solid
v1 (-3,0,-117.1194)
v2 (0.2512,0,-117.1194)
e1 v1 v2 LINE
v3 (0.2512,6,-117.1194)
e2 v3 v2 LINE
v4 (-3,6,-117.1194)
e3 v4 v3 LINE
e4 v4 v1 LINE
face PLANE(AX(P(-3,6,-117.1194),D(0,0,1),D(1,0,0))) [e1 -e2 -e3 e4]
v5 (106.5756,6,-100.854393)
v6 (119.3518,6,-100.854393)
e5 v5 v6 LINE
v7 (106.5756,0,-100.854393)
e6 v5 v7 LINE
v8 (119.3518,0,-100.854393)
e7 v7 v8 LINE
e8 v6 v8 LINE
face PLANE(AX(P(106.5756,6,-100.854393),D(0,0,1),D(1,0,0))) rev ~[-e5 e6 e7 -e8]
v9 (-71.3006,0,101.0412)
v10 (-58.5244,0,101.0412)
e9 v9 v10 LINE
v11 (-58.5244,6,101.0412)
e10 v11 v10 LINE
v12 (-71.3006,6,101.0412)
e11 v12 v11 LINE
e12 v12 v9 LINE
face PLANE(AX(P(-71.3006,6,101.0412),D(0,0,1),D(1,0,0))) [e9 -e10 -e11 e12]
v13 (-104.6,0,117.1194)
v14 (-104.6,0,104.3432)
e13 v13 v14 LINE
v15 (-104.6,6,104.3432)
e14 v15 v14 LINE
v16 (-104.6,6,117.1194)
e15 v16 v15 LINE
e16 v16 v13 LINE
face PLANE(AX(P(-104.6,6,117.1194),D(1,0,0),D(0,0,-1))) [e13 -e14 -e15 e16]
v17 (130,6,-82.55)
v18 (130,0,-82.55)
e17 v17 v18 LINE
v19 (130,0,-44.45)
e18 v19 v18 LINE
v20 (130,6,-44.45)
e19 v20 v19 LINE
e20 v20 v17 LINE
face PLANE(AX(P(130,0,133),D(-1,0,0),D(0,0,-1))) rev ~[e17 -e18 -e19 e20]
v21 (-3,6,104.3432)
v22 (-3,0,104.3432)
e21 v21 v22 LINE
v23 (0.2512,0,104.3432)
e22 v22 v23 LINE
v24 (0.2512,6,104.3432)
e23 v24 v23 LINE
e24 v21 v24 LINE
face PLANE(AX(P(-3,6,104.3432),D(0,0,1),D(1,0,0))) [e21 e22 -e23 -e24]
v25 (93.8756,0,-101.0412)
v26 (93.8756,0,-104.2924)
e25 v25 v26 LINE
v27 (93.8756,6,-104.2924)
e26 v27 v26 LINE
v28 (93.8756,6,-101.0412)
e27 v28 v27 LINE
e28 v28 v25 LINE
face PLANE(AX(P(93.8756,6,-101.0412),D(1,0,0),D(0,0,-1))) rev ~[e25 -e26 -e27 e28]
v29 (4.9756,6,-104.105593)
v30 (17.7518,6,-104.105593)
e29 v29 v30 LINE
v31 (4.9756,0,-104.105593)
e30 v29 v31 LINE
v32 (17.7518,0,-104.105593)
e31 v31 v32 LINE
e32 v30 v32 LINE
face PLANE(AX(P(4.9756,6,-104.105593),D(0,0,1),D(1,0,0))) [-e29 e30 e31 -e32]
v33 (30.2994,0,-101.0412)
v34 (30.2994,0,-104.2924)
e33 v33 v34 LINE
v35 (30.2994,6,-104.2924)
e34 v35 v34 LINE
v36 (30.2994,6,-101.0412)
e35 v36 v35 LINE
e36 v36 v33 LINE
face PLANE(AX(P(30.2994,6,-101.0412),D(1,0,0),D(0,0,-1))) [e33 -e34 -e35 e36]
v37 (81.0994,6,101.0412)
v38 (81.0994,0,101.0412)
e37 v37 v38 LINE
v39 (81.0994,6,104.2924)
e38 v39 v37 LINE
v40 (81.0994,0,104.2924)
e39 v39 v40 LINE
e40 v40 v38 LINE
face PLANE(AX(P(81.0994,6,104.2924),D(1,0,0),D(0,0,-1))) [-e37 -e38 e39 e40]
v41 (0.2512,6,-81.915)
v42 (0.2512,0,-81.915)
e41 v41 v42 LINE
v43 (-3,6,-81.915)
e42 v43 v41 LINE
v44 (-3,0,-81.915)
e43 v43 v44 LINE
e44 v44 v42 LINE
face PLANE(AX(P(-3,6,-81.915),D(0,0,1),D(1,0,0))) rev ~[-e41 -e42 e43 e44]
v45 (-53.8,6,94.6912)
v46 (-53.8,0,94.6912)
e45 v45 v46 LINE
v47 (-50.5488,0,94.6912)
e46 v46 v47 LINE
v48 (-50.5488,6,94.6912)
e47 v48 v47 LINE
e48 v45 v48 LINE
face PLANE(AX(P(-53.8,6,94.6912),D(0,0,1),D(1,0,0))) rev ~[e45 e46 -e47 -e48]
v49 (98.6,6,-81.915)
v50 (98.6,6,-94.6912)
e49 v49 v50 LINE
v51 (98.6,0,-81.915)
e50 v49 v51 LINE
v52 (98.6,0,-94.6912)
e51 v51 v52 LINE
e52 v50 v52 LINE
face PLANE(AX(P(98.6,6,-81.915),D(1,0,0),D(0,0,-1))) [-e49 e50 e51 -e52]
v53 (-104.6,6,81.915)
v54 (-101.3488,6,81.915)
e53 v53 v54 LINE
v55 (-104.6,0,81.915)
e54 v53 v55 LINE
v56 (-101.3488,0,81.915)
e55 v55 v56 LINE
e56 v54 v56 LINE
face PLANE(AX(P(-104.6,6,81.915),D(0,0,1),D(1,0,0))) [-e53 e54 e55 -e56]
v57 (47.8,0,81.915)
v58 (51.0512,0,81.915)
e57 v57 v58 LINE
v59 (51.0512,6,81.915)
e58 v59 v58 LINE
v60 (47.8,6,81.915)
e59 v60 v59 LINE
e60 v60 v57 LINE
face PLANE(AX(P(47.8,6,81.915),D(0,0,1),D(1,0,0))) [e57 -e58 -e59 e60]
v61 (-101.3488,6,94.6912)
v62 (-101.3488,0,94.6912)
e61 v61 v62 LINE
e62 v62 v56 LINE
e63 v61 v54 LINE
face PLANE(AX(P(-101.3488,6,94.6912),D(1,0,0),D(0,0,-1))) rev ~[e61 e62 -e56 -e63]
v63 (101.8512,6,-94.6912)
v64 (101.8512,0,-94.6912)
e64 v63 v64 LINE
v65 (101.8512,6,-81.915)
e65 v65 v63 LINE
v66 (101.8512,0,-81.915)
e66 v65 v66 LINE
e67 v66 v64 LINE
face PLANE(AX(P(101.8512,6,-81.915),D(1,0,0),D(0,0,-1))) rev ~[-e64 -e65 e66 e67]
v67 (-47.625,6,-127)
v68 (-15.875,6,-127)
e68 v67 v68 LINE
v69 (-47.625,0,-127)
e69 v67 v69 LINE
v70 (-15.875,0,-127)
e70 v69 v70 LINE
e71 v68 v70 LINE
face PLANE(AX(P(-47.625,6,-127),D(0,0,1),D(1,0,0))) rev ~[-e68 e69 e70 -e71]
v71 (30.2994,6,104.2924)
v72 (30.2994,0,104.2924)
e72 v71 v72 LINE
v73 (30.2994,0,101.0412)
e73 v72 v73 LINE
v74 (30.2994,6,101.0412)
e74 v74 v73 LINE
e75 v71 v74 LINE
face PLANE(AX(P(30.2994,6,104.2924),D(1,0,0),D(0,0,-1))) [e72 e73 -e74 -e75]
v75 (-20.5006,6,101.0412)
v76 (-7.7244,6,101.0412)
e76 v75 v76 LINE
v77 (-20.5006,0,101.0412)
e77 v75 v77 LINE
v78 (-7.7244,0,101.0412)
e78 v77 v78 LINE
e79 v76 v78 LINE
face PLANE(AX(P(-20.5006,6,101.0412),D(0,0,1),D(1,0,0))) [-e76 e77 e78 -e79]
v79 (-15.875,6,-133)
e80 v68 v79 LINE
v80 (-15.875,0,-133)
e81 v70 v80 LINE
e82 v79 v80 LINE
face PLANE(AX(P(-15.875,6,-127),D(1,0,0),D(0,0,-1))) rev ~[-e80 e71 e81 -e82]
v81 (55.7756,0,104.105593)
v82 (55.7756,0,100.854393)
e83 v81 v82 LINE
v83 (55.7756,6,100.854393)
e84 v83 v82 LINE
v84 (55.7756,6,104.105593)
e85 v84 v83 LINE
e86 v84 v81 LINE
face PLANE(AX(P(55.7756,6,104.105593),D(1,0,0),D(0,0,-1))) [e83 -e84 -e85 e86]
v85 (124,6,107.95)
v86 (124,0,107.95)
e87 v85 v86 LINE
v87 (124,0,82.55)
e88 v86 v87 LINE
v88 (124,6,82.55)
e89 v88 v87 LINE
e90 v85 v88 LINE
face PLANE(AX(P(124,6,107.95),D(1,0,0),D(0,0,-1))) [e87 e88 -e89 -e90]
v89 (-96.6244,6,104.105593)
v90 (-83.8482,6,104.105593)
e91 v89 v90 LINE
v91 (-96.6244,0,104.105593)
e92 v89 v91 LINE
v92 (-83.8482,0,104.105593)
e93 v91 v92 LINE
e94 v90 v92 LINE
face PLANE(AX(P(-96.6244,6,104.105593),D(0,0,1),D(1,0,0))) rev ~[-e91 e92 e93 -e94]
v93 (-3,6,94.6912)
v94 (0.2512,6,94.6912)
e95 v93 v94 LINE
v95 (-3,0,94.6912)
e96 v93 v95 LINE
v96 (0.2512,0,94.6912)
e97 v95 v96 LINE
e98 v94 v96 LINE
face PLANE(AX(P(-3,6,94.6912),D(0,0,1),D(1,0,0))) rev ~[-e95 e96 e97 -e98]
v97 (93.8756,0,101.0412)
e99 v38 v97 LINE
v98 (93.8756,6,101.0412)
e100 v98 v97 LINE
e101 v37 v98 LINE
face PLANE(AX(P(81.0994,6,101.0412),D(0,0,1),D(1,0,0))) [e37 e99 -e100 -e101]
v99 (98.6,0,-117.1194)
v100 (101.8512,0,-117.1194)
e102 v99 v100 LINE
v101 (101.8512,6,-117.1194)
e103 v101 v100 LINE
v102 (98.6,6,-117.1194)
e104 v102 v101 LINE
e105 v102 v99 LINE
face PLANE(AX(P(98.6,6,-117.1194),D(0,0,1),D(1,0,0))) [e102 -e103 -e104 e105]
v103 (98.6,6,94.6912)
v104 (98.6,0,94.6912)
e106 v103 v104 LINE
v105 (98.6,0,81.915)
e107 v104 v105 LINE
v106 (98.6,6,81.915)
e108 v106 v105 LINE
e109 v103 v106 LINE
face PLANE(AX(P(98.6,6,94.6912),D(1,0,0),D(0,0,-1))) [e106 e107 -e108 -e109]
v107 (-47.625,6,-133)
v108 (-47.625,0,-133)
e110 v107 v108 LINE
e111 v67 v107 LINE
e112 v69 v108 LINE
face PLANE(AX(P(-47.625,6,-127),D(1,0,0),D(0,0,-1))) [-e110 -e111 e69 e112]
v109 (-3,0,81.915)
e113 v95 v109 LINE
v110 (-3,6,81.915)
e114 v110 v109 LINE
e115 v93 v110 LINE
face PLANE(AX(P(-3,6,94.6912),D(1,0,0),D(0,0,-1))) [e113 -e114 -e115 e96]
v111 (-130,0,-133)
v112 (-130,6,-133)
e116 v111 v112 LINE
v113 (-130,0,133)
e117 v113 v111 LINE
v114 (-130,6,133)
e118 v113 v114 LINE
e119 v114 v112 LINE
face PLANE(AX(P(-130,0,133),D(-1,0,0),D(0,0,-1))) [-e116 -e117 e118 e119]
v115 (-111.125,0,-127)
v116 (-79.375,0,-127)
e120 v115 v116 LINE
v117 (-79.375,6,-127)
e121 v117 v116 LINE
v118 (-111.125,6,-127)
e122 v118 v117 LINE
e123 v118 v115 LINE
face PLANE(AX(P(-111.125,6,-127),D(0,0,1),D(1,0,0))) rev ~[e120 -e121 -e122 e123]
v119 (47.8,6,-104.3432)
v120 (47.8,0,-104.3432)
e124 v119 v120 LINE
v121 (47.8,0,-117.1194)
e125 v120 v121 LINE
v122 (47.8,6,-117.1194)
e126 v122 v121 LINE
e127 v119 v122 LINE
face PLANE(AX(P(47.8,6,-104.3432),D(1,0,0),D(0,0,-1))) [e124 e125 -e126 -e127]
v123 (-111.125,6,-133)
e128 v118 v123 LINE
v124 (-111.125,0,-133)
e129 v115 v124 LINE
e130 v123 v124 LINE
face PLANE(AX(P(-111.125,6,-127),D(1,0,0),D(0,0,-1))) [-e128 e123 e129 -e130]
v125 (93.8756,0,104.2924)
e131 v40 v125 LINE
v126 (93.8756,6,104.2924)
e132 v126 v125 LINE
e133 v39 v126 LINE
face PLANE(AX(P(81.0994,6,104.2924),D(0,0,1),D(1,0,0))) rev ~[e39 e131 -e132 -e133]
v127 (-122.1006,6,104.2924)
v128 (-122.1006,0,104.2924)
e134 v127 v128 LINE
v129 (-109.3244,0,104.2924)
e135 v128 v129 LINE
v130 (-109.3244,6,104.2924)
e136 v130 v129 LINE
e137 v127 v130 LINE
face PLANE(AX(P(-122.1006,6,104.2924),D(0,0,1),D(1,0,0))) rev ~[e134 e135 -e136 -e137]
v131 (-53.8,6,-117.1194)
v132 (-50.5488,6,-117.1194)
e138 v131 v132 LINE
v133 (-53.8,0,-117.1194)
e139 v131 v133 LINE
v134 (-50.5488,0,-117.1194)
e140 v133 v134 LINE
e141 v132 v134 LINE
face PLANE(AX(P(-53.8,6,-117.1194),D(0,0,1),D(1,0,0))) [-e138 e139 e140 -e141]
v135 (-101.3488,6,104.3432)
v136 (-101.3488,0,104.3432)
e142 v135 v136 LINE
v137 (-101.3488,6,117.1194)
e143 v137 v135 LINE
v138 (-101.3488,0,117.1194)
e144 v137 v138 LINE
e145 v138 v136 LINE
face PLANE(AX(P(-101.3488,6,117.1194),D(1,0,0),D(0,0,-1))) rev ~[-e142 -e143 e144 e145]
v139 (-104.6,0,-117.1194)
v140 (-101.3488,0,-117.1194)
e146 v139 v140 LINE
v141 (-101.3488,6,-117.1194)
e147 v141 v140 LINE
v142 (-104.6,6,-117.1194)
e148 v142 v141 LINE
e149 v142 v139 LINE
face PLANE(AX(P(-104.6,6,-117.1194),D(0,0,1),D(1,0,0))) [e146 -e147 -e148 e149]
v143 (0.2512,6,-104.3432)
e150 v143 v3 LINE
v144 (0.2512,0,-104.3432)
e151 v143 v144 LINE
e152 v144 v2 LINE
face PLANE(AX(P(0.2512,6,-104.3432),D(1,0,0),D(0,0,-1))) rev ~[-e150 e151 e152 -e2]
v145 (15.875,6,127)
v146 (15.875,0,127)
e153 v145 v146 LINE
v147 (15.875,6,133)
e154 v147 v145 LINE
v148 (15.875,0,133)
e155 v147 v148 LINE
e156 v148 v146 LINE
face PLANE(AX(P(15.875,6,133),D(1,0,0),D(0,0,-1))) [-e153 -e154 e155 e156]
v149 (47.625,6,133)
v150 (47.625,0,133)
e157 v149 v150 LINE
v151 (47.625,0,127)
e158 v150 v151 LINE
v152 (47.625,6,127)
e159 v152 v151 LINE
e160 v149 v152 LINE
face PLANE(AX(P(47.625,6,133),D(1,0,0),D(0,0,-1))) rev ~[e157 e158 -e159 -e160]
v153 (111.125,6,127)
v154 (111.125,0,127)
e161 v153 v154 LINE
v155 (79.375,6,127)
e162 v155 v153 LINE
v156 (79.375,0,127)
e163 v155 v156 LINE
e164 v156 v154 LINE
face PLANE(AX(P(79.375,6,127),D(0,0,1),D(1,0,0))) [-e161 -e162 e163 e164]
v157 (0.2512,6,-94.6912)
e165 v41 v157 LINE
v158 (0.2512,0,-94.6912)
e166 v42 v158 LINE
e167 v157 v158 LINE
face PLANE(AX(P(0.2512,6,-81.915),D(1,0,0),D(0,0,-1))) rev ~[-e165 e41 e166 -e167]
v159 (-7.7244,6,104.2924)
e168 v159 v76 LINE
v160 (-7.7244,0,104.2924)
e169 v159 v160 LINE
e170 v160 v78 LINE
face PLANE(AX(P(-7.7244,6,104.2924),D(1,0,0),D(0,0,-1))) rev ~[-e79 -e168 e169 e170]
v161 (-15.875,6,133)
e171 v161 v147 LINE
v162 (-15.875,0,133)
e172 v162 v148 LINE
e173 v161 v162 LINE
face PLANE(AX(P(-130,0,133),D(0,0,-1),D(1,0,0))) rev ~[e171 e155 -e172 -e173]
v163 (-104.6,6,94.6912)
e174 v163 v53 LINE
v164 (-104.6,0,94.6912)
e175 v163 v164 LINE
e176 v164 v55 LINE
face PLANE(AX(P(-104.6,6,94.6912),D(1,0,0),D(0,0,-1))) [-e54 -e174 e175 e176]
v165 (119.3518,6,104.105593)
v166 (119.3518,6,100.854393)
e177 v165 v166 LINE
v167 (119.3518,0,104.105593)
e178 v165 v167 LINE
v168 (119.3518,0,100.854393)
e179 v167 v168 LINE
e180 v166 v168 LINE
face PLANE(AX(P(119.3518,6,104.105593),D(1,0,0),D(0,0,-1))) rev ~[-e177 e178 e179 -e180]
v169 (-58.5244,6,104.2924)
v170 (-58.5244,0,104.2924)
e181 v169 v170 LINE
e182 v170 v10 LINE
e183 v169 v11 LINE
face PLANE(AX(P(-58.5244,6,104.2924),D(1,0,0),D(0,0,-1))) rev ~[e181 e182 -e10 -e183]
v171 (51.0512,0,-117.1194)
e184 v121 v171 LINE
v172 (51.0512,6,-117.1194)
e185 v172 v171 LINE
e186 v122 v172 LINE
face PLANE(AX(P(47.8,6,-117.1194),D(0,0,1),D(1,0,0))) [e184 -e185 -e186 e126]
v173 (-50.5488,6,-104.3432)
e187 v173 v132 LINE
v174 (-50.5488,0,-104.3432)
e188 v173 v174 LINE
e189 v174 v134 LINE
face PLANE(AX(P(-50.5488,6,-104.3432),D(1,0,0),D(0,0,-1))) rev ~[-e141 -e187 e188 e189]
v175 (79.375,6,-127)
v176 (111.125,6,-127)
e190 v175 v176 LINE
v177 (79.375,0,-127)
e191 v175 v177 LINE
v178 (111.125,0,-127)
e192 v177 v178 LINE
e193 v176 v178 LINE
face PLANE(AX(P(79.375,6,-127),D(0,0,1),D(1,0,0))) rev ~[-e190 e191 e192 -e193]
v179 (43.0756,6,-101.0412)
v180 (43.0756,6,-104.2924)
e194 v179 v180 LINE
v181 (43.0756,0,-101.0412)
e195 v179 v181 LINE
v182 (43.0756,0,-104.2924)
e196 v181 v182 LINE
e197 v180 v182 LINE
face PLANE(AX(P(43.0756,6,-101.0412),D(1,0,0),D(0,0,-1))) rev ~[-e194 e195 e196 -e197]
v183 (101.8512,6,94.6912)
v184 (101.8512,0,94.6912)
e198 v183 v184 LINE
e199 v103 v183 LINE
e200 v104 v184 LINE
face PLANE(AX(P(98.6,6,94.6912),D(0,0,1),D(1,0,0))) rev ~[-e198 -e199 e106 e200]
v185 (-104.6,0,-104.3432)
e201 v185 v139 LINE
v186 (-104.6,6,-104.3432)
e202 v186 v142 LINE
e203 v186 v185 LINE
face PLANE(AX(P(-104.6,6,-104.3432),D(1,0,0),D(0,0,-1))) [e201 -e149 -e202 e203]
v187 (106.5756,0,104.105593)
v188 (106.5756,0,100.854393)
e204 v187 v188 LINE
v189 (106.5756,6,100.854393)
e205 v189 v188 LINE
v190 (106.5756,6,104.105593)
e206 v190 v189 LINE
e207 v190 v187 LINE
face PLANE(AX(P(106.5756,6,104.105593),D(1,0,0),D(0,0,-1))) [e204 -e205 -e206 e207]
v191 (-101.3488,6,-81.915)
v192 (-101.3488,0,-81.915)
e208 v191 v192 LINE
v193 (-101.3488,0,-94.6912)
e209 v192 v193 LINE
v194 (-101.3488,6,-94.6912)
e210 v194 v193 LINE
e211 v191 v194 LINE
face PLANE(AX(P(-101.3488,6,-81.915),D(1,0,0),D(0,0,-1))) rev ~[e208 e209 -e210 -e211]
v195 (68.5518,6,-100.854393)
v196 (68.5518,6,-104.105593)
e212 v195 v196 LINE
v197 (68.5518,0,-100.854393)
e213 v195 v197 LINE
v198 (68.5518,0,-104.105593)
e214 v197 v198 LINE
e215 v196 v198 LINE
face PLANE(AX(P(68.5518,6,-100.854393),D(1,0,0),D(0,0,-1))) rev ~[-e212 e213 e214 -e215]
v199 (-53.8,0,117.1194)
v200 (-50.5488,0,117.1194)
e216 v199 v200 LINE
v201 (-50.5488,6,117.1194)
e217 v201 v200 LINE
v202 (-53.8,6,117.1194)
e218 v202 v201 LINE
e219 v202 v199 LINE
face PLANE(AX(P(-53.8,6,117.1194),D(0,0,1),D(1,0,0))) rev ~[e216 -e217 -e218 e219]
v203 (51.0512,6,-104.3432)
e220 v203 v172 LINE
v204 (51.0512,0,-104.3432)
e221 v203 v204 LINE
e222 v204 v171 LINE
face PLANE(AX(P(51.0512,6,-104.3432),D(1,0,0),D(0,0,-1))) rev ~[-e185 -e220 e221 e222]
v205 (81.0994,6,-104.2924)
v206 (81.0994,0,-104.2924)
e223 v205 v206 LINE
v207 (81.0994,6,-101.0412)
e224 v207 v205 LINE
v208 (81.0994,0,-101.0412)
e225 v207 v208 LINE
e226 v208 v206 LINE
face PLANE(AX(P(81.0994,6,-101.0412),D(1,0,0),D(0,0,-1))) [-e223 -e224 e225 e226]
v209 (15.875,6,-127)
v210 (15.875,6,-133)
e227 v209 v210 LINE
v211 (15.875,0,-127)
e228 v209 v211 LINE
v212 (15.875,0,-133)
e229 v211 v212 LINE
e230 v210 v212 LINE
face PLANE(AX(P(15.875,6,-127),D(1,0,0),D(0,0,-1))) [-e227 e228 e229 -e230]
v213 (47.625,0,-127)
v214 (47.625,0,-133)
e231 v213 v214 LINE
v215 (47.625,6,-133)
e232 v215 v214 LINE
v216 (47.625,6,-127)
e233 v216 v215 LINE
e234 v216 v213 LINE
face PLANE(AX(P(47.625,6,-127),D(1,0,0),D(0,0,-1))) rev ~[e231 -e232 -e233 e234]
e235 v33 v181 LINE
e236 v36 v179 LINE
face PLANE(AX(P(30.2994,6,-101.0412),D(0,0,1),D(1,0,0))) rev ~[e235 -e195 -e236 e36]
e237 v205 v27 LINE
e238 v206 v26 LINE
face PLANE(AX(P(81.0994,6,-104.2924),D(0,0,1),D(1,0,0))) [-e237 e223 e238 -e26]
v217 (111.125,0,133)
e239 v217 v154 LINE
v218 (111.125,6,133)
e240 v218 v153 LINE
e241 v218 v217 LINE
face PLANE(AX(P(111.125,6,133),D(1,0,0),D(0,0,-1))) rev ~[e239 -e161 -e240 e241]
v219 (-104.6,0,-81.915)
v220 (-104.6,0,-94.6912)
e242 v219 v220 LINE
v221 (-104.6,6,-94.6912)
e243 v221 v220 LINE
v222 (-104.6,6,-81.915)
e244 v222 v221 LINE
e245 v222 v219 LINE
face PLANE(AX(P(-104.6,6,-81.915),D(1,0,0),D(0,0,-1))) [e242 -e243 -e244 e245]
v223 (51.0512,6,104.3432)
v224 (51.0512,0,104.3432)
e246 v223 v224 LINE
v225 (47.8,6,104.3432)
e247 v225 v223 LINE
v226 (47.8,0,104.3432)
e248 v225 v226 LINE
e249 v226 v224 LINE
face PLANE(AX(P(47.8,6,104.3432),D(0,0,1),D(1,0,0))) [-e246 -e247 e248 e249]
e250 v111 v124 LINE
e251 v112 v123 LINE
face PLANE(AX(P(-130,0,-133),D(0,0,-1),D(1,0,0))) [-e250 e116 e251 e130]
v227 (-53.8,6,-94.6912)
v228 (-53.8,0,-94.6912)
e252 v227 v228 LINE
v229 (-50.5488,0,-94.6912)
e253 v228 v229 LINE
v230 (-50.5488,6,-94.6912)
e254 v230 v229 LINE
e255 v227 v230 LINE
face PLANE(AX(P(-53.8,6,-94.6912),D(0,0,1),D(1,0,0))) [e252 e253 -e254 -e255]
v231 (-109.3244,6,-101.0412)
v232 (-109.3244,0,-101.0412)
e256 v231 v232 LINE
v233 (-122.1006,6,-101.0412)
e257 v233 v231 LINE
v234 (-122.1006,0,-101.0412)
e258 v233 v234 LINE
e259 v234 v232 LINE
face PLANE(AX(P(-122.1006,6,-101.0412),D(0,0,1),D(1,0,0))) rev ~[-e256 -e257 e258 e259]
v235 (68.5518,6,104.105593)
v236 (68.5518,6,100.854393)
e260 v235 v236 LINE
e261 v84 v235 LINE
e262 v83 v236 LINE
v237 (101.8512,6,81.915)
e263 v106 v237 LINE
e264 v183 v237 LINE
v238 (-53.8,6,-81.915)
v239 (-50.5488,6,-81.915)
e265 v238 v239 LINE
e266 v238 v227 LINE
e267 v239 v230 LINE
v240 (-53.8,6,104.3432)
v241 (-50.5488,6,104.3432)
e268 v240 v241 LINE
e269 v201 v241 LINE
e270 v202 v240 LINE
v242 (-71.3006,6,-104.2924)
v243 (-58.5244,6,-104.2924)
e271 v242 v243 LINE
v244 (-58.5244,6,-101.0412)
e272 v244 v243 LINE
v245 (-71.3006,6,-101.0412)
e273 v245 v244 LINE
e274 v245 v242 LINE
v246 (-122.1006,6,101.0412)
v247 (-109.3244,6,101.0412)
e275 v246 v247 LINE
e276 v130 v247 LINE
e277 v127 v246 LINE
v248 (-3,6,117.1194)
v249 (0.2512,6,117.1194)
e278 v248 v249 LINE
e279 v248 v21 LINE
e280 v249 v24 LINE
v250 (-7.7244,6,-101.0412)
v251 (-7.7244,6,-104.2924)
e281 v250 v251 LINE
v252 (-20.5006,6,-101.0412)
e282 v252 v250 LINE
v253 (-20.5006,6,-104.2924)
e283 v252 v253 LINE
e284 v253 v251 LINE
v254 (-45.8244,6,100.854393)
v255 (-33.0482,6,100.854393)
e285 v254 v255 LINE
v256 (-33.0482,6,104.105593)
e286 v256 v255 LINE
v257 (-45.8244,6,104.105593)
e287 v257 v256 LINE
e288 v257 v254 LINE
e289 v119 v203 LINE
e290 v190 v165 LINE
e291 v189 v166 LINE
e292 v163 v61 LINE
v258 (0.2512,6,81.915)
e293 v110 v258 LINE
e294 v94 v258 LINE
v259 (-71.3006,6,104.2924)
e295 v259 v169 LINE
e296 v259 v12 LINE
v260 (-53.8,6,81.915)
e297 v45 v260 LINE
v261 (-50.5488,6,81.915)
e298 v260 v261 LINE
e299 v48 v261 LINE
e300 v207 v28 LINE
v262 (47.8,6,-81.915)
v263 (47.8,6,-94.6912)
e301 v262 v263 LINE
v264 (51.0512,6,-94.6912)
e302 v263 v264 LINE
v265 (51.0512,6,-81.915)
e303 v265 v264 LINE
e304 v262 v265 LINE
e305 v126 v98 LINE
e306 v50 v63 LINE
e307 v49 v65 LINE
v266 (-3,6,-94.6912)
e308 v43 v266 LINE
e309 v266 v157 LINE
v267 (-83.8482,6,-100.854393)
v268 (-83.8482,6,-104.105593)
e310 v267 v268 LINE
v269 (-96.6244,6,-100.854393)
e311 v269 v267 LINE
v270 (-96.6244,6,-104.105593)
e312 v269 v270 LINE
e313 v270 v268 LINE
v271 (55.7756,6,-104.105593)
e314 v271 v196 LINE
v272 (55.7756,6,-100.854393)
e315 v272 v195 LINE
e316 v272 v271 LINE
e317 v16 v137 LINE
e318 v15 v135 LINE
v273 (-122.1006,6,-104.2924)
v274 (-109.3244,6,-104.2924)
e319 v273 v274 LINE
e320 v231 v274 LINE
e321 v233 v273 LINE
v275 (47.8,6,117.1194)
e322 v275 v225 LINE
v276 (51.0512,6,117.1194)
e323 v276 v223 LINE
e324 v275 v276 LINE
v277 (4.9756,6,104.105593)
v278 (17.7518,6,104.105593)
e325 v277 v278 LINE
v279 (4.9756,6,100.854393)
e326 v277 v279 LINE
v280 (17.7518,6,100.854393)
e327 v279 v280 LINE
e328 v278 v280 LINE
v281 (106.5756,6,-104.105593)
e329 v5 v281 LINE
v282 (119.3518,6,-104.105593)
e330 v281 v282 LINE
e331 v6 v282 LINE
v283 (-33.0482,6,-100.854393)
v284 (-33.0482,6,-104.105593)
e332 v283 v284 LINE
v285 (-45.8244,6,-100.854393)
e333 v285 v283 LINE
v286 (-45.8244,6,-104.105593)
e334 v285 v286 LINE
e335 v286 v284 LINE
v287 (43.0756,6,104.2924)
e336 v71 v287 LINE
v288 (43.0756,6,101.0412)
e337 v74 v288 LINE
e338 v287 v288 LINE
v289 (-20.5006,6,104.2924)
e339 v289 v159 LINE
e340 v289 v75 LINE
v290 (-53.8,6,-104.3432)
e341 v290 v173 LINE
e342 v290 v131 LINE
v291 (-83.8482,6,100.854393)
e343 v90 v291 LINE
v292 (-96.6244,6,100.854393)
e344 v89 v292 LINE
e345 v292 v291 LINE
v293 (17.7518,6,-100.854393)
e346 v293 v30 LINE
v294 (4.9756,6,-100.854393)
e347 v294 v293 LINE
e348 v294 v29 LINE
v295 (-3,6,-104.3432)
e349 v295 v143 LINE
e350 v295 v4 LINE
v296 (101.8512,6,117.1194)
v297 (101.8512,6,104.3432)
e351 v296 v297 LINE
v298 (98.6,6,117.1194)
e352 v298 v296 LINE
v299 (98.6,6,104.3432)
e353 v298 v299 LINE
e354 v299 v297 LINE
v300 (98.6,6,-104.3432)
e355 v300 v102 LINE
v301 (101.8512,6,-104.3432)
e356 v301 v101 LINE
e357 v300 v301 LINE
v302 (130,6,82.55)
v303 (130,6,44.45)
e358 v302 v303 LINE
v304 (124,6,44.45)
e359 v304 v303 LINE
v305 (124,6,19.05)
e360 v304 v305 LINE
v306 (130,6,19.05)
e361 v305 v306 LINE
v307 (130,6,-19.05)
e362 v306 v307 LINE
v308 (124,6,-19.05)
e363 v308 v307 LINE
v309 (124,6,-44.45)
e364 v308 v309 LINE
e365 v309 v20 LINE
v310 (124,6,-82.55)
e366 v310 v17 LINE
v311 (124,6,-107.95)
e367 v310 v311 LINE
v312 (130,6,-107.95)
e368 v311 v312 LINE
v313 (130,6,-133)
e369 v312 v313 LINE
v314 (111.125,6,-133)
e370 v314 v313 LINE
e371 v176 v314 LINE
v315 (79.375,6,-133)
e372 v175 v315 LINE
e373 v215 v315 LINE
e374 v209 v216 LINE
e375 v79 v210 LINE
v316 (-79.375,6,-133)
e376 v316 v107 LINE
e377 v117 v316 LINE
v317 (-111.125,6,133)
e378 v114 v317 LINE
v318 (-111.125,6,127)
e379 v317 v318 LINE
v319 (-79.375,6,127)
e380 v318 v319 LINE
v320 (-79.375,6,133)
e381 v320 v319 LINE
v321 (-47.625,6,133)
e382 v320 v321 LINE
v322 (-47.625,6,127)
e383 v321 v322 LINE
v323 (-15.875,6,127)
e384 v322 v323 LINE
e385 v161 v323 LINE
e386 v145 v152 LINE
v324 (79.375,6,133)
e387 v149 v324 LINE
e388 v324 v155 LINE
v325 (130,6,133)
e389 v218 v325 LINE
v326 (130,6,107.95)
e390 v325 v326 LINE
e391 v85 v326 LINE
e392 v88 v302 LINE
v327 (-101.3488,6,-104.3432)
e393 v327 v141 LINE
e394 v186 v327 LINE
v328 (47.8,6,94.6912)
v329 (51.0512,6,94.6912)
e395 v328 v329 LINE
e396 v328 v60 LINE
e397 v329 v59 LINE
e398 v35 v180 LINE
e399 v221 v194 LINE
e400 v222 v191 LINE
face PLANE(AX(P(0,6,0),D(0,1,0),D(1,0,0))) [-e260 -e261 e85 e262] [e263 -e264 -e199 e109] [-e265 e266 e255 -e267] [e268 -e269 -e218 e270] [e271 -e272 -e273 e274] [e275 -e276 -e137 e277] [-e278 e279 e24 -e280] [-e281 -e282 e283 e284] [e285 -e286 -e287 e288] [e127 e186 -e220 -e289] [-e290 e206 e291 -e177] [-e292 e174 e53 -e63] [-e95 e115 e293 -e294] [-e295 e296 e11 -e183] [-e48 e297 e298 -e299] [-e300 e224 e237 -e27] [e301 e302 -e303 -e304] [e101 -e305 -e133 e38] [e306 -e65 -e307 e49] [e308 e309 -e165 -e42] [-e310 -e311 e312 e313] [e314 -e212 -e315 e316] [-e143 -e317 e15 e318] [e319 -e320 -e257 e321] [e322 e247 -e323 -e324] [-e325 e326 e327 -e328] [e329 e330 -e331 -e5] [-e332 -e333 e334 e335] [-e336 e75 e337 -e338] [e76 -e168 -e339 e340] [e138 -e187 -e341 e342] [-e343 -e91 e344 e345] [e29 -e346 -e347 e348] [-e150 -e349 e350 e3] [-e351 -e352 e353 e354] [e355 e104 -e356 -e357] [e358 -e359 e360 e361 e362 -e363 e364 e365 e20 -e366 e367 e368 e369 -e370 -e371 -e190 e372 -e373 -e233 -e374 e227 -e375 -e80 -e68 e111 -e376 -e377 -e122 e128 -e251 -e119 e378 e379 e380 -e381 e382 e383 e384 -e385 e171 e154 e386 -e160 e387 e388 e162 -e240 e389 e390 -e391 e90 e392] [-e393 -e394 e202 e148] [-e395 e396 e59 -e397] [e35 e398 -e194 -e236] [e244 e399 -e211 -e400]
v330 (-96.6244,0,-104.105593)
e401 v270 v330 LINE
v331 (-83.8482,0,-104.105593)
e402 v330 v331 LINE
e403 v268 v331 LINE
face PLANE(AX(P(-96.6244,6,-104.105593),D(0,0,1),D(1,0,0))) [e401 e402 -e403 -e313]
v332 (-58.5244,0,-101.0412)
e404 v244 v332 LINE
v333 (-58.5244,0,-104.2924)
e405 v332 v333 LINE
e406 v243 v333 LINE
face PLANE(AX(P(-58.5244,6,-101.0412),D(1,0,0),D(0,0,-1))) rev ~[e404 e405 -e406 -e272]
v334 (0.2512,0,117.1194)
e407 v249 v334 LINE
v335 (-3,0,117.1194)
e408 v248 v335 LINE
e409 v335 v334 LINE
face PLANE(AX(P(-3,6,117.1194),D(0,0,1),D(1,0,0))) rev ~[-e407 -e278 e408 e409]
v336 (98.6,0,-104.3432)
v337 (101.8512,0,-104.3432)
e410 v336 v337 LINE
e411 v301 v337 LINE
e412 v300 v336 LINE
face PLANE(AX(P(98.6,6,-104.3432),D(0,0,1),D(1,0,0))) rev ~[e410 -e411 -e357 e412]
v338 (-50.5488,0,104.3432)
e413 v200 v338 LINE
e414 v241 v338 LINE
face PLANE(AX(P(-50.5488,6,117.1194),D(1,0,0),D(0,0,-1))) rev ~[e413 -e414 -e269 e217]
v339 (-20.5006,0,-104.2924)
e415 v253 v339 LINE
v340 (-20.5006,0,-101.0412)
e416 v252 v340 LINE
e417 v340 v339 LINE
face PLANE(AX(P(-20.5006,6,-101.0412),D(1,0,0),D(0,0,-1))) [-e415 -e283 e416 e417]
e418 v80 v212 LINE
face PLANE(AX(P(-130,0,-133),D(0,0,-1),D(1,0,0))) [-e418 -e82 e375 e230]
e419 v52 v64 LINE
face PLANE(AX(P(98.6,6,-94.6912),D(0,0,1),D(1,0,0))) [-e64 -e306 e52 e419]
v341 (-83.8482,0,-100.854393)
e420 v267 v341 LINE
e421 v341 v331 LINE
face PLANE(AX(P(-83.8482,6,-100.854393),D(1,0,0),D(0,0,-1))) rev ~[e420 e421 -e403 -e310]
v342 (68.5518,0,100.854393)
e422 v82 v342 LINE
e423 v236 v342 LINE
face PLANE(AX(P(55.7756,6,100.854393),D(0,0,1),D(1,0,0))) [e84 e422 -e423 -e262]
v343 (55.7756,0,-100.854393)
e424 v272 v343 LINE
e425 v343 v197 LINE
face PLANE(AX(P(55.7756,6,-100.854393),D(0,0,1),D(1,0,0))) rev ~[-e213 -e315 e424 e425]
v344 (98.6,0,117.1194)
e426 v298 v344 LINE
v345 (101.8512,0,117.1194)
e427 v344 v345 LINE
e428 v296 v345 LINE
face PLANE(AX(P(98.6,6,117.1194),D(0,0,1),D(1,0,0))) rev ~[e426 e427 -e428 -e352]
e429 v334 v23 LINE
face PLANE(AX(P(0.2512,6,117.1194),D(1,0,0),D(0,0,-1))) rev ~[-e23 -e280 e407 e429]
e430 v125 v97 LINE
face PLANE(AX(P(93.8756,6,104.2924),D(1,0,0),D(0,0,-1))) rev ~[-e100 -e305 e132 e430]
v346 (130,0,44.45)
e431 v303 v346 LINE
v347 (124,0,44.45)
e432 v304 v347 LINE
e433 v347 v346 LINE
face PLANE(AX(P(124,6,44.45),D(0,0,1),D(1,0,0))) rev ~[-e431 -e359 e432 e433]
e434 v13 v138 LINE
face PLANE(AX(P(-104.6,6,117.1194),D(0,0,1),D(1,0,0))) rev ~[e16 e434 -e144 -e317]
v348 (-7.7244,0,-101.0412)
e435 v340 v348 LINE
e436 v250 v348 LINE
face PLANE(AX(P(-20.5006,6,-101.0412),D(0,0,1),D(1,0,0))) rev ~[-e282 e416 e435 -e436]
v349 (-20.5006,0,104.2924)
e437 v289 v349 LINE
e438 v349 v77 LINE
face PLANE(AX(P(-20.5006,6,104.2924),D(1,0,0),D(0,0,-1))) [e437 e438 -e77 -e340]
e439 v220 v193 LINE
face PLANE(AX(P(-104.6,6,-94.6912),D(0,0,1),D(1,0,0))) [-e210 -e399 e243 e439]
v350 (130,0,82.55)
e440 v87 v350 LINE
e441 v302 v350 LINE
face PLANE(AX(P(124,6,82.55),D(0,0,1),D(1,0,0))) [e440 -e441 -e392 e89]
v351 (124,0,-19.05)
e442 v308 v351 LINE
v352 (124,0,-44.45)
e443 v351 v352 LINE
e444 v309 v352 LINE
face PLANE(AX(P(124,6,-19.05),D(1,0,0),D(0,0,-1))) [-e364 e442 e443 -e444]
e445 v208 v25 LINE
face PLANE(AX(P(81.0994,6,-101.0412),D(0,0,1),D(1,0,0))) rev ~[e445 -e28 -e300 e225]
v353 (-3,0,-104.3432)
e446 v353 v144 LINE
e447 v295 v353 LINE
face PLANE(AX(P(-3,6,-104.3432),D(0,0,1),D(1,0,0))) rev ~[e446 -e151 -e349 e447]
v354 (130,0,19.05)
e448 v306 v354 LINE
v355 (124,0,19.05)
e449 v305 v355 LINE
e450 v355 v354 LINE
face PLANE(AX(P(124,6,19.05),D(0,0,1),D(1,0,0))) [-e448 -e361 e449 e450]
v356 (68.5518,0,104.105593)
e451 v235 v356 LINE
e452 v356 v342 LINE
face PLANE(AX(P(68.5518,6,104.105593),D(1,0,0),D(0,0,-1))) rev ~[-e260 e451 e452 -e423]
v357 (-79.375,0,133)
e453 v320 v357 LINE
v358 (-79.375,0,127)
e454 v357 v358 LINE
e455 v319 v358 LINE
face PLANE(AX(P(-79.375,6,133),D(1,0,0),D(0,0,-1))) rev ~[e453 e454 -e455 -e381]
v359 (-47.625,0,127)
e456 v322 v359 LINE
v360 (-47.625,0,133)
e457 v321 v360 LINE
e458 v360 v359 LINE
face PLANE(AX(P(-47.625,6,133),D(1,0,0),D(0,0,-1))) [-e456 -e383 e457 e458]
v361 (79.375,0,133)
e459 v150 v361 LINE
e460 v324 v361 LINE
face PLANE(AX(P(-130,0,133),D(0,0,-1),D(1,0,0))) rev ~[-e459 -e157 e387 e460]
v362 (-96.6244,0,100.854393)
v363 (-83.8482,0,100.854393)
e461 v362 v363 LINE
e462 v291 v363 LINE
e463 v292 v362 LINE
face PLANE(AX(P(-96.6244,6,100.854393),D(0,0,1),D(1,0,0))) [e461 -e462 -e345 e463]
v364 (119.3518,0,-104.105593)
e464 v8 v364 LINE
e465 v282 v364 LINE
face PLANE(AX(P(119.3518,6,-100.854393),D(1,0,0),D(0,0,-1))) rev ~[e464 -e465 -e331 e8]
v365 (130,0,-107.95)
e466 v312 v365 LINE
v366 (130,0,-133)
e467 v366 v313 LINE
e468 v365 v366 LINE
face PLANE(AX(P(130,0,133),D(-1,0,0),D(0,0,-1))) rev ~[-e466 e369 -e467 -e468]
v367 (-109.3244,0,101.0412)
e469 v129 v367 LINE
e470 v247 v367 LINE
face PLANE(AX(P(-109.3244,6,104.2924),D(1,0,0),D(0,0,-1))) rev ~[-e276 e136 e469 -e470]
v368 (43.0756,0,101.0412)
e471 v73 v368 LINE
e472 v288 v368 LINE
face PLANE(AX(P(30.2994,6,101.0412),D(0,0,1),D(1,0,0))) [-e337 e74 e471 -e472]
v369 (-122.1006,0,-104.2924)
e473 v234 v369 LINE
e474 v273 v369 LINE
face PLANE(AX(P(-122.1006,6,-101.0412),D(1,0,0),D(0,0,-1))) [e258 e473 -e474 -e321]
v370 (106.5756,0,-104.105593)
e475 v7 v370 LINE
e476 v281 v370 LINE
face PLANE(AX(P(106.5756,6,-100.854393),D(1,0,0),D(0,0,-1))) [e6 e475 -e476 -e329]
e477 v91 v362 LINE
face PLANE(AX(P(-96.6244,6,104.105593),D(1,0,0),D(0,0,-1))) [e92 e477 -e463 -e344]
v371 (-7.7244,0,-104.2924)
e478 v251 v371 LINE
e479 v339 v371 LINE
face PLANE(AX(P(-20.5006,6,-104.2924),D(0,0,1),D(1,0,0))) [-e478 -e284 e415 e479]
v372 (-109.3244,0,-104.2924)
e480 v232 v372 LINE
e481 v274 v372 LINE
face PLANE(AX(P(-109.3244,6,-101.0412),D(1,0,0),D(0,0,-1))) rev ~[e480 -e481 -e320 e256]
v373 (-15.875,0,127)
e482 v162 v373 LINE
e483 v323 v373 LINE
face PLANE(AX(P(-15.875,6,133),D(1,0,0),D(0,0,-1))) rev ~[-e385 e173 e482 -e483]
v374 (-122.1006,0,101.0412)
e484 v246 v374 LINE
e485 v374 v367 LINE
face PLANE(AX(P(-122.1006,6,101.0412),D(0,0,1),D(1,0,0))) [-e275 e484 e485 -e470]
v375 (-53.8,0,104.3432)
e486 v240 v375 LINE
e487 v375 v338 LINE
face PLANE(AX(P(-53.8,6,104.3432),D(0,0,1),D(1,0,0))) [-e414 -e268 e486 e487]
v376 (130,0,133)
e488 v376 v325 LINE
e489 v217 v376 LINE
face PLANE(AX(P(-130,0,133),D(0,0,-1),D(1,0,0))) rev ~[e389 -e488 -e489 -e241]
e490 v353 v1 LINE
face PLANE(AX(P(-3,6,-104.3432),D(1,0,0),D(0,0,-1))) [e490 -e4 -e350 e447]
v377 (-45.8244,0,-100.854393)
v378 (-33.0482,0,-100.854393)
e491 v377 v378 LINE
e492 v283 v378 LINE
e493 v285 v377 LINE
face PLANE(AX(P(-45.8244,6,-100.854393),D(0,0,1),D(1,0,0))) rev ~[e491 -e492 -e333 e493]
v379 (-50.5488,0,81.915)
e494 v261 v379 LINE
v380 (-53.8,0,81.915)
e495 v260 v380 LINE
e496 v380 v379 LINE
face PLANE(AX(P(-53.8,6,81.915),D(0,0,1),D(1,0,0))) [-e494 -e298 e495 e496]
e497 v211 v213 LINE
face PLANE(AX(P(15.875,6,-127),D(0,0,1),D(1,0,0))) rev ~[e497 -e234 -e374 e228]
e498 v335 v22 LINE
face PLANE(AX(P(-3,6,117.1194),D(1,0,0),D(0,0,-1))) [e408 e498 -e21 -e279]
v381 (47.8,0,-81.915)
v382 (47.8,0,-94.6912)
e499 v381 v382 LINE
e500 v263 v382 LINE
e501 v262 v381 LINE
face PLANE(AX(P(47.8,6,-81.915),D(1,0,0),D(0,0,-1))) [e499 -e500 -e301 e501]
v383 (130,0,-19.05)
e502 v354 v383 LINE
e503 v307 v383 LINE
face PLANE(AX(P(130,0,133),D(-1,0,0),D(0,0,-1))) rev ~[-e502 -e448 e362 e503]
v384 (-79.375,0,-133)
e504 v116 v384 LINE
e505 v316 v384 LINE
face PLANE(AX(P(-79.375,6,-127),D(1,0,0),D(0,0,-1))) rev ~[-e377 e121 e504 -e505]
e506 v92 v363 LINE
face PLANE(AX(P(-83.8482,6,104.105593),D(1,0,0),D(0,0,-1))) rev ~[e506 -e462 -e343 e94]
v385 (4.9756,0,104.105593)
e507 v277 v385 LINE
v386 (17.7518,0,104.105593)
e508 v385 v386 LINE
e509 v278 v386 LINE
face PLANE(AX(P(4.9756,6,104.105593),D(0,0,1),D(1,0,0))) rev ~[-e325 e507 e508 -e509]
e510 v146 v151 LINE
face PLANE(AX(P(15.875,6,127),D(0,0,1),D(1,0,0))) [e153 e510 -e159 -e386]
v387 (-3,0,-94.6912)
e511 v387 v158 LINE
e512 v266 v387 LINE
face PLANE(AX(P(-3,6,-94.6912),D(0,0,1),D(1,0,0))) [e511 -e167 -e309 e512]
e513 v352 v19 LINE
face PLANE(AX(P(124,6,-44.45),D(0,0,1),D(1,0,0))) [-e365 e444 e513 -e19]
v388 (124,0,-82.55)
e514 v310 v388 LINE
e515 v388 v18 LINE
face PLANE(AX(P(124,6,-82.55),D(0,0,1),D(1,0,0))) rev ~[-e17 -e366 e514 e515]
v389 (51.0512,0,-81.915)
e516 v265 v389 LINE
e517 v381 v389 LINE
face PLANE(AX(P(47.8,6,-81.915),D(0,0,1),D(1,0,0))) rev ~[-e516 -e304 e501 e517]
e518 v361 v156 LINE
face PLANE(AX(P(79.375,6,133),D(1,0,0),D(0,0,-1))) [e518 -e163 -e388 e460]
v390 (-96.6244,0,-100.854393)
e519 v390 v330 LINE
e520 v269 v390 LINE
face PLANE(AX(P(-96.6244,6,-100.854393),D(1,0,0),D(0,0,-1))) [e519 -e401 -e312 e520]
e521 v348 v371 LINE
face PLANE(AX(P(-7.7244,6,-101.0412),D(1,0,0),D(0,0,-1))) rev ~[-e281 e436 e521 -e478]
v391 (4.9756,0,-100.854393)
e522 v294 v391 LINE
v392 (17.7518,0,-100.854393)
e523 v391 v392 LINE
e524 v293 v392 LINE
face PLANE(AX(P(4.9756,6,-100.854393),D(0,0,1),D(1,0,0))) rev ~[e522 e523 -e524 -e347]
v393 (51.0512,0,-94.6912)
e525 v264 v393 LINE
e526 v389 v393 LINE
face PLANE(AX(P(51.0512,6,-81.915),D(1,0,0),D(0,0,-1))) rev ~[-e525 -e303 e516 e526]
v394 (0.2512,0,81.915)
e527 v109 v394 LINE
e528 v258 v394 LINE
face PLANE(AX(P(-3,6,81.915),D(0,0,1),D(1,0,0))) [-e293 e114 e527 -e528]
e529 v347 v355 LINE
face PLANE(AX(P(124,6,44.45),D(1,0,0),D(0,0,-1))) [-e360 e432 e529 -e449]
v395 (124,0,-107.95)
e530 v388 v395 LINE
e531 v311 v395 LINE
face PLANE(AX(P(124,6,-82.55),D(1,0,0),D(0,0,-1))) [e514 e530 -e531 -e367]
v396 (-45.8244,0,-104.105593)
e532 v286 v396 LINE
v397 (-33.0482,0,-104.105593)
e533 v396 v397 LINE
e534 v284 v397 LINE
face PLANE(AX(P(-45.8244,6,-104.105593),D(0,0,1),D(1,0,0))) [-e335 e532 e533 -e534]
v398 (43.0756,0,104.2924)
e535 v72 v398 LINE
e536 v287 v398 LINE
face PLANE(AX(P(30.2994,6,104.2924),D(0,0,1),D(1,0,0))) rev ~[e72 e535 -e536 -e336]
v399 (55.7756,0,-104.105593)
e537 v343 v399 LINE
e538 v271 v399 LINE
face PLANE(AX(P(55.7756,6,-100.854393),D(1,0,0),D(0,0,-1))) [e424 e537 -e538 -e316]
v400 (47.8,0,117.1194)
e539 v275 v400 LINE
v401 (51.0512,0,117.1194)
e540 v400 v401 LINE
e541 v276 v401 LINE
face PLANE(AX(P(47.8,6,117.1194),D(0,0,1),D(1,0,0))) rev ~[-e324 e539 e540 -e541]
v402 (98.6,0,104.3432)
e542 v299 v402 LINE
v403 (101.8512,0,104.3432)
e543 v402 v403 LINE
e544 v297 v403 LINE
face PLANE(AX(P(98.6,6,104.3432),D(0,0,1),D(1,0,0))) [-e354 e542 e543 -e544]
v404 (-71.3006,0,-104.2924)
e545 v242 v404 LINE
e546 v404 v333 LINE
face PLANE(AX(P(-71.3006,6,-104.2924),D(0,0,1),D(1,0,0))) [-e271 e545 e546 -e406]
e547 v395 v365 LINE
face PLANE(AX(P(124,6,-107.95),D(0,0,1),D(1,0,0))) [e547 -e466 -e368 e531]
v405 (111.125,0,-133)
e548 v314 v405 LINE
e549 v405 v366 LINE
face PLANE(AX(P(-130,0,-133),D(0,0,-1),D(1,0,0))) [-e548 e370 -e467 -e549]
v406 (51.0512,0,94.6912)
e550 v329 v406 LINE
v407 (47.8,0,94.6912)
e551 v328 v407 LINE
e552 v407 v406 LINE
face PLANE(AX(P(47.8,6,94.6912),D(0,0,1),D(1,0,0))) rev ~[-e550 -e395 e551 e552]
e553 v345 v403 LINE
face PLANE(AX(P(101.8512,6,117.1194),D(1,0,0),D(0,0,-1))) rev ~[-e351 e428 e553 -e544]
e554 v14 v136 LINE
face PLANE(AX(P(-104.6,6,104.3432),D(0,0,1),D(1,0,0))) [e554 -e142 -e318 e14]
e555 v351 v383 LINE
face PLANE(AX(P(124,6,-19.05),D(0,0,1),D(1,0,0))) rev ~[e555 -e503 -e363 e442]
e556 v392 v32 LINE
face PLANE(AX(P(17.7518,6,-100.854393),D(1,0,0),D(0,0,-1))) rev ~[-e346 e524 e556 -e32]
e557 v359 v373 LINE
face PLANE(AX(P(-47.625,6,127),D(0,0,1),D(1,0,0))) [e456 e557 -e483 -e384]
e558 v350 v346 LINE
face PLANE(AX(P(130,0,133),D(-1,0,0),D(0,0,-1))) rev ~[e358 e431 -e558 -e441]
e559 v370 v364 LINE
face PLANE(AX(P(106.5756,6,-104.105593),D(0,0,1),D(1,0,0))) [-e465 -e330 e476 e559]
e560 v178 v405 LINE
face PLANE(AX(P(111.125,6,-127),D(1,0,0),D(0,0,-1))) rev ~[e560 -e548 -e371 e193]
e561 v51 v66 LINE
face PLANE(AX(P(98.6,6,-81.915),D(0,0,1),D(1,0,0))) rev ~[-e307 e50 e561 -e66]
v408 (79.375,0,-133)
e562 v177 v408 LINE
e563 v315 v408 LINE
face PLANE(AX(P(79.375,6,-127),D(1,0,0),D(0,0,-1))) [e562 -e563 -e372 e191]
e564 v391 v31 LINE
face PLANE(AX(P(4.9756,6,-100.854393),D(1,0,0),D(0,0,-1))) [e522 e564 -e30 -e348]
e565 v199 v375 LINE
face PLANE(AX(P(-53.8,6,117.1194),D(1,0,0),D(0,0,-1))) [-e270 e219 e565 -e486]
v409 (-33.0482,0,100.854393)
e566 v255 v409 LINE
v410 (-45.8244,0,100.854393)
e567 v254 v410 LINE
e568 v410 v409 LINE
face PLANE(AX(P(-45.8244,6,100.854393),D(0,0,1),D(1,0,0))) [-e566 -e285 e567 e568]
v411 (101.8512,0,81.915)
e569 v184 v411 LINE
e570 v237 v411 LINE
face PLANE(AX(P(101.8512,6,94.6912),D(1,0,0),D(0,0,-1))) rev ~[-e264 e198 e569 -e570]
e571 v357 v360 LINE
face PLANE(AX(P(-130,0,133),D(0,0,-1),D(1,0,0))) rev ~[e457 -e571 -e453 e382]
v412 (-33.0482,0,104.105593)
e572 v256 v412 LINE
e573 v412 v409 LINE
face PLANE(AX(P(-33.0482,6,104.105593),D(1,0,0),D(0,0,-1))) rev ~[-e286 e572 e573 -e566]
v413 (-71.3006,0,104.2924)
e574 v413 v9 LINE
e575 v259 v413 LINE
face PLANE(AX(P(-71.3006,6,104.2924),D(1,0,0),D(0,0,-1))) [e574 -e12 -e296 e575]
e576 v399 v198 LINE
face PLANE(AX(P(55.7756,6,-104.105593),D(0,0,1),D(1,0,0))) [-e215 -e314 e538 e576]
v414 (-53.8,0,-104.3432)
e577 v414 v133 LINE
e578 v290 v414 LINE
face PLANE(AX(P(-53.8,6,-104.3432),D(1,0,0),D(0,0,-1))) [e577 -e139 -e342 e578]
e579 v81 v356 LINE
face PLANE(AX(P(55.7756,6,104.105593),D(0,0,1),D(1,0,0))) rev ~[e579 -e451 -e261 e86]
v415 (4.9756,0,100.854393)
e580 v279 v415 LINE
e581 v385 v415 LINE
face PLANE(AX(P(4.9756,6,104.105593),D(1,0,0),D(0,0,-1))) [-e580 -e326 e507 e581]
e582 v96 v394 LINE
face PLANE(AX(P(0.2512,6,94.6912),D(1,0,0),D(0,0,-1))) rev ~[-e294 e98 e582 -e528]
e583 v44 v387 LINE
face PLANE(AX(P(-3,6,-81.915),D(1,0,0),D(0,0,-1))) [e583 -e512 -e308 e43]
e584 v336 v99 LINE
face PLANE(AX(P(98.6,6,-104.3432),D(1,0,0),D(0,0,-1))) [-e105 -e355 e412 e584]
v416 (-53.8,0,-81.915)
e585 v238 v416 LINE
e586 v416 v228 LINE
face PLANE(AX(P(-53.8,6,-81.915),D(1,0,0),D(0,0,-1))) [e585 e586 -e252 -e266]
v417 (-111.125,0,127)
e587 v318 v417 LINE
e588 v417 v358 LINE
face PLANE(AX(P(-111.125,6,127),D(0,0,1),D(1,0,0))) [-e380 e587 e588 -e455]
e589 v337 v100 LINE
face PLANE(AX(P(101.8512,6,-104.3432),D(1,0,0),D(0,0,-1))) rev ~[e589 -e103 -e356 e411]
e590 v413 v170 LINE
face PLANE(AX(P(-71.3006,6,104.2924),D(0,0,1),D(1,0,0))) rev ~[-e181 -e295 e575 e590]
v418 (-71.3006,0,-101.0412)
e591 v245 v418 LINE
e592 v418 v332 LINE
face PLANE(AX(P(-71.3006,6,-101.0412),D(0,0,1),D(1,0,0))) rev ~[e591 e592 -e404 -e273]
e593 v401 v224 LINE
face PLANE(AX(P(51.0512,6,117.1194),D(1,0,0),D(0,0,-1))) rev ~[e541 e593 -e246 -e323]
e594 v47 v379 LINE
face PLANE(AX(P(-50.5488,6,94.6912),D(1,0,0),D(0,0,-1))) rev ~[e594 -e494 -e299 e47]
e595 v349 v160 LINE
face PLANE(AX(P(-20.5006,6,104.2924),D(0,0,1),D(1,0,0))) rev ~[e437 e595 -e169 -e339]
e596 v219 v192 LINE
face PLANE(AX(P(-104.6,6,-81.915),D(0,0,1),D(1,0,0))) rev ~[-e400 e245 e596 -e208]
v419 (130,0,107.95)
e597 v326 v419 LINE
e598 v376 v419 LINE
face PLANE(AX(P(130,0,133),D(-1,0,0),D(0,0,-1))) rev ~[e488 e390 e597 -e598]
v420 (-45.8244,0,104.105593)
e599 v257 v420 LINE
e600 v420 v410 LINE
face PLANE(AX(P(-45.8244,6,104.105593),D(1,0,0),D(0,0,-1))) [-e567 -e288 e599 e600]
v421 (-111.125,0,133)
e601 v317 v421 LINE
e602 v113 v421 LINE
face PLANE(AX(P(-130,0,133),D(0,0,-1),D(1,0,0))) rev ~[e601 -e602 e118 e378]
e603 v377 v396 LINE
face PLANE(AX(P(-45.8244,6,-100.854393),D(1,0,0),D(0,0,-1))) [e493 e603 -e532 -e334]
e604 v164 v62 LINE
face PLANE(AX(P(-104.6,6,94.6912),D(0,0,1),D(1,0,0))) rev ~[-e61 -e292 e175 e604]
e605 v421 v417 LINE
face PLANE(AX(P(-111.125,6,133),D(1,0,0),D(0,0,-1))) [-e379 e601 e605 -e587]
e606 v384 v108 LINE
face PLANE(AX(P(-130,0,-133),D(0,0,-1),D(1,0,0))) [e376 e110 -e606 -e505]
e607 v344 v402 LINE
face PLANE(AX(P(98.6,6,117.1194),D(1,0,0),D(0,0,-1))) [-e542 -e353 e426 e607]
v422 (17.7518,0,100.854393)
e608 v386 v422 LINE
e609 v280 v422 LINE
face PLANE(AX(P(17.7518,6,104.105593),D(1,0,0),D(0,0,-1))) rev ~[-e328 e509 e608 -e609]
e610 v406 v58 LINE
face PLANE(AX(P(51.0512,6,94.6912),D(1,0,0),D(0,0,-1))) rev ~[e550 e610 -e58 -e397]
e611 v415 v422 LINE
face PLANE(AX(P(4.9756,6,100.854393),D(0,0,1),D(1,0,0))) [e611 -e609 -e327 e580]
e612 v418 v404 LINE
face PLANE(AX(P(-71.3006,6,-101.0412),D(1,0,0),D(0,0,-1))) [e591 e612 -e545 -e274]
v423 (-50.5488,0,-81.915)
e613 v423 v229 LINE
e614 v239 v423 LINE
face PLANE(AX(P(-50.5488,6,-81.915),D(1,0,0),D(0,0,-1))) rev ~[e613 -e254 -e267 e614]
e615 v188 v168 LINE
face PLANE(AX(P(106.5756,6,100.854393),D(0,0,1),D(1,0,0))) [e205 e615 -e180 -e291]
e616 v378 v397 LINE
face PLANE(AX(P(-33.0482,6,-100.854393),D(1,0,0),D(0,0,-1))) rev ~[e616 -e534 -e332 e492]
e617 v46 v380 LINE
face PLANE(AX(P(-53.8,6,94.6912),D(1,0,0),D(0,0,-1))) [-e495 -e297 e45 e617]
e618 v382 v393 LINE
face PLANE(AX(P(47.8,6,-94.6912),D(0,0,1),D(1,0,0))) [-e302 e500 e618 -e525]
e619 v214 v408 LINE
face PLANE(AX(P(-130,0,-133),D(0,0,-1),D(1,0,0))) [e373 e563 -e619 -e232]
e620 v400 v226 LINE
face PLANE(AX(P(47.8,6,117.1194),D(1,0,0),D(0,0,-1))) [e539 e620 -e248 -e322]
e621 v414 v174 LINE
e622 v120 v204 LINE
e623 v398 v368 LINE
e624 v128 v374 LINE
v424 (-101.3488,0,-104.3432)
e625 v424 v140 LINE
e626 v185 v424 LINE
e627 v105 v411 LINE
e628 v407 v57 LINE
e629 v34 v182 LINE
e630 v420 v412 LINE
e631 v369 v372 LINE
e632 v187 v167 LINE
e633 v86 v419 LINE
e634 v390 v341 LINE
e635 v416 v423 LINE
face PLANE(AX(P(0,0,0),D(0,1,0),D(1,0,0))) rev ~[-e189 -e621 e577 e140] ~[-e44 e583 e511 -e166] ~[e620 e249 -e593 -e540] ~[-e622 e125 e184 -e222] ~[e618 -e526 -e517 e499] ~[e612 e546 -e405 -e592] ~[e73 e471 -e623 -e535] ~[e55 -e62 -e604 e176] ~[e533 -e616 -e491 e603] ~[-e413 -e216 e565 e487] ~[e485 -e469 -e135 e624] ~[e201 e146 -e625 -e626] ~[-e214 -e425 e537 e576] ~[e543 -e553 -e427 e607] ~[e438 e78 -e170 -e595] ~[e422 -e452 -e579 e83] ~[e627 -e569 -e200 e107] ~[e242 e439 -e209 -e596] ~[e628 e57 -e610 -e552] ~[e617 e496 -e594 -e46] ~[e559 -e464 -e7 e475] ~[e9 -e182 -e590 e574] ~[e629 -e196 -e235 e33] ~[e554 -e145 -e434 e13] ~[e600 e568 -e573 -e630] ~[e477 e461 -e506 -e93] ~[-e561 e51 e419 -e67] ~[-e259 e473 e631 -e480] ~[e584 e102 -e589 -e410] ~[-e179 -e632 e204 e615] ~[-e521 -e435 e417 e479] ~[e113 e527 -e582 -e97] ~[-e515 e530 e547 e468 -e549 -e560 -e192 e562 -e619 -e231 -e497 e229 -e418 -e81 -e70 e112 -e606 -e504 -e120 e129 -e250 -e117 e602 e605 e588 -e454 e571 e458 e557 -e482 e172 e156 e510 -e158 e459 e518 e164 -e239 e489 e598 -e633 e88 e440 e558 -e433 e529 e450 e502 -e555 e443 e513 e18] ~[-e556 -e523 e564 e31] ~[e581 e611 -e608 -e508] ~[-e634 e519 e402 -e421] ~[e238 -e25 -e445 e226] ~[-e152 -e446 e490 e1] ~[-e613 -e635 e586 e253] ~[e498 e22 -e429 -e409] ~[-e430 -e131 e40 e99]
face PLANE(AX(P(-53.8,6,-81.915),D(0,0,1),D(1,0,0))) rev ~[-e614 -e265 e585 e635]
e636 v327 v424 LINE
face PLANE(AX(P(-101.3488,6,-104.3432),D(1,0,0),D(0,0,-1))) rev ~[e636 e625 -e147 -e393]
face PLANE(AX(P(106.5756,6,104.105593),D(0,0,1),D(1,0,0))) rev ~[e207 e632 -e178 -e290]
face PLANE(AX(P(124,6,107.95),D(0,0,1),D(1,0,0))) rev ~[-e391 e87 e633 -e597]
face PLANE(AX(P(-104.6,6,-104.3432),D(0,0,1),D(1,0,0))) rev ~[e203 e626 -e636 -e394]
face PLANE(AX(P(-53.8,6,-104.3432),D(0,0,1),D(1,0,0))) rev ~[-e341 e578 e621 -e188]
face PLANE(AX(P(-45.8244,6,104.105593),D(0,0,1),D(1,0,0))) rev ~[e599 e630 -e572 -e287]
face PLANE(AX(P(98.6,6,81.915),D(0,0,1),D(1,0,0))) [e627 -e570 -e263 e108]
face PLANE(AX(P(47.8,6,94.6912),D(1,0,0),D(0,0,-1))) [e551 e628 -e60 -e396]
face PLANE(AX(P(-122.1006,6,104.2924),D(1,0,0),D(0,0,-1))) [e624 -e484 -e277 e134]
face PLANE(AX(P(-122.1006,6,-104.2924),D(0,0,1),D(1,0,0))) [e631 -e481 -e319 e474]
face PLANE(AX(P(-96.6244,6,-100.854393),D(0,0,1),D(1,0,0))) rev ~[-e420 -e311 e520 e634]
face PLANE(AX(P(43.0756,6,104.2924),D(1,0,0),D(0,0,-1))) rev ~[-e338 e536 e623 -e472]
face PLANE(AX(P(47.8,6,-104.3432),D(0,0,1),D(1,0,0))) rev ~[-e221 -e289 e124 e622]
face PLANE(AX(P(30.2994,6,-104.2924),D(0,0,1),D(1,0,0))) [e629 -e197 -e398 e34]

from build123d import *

# Parameters (mm, degrees)
SKETCH1_W           = 260
SKETCH1_H           = 266
BOSS_EXTRUDE1_DEPTH = 6
SKETCH2_W           = 31.75
SKETCH2_H           = 6
SKETCH2_W_2         = 6
SKETCH2_H_2         = 25.4
TAB_CUT_OUTS_DEPTH  = 6
SKETCH4_W           = 12.7762
SKETCH4_H           = 3.2512
SKETCH4_W_2         = 3.2512
SKETCH4_H_2         = 12.7762
CUT_EXTRUDE1_DEPTH  = 7


with BuildPart() as part:
    # Sketch1 → Boss-Extrude1 (new body)
    with BuildSketch(Plane(origin=(0, 0, 0), x_dir=(1, 0, 0), z_dir=(0, 1, 0))):
        Rectangle(SKETCH1_W, SKETCH1_H)
    extrude(amount=BOSS_EXTRUDE1_DEPTH)

    # Sketch2 → Tab Cut Outs (cut)
    with BuildSketch(Plane(origin=(0, 6, 0), x_dir=(1, 0, 0), z_dir=(0, 1, 0))):
        with Locations((95.25, 130)):
            Rectangle(SKETCH2_W, SKETCH2_H)
        with Locations((-31.75, 130)):
            Rectangle(SKETCH2_W, SKETCH2_H)
        with Locations((-95.25, 130)):
            Rectangle(SKETCH2_W, SKETCH2_H)
        with Locations((31.75, 130)):
            Rectangle(SKETCH2_W, SKETCH2_H)
        with Locations((31.75, -130)):
            Rectangle(SKETCH2_W, SKETCH2_H)
        with Locations((95.25, -130)):
            Rectangle(SKETCH2_W, SKETCH2_H)
        with Locations((-95.25, -130)):
            Rectangle(SKETCH2_W, SKETCH2_H)
        with Locations((-31.75, -130)):
            Rectangle(SKETCH2_W, SKETCH2_H)
        with Locations((127, -95.25)):
            Rectangle(SKETCH2_W_2, SKETCH2_H_2)
        with Locations((127, 31.75)):
            Rectangle(SKETCH2_W_2, SKETCH2_H_2)
        with Locations((127, 95.25)):
            Rectangle(SKETCH2_W_2, SKETCH2_H_2)
        with Locations((127, -31.75)):
            Rectangle(SKETCH2_W_2, SKETCH2_H_2)
    extrude(amount=-TAB_CUT_OUTS_DEPTH, mode=Mode.SUBTRACT)

    # Sketch4 → Cut-Extrude1 (cut, through all)
    with BuildSketch(Plane(origin=(0, 6, 0), x_dir=(1, 0, 0), z_dir=(0, 1, 0))):
        with Locations((-64.9125, 102.6668)):
            Rectangle(SKETCH4_W, SKETCH4_H)
        with Locations((-102.9744, 88.3031)):
            Rectangle(SKETCH4_W_2, SKETCH4_H_2)
        with Locations((-102.9744, 110.7313)):
            Rectangle(SKETCH4_W_2, SKETCH4_H_2)
        with Locations((-52.1744, 110.7313)):
            Rectangle(SKETCH4_W_2, SKETCH4_H_2)
        with Locations((-115.7125, 102.6668)):
            Rectangle(SKETCH4_W, SKETCH4_H)
        with Locations((-90.2363, 102.479993419)):
            Rectangle(SKETCH4_W, SKETCH4_H)
        with Locations((-39.4363, 102.479993419)):
            Rectangle(SKETCH4_W, SKETCH4_H)
        with Locations((-52.1744, 88.3031)):
            Rectangle(SKETCH4_W_2, SKETCH4_H_2)
        with Locations((-14.1125, 102.6668)):
            Rectangle(SKETCH4_W, SKETCH4_H)
        with Locations((-1.3744, 110.7313)):
            Rectangle(SKETCH4_W_2, SKETCH4_H_2)
        with Locations((11.3637, 102.479993419)):
            Rectangle(SKETCH4_W, SKETCH4_H)
        with Locations((-1.3744, 88.3031)):
            Rectangle(SKETCH4_W_2, SKETCH4_H_2)
        with Locations((36.6875, 102.6668)):
            Rectangle(SKETCH4_W, SKETCH4_H)
        with Locations((49.4256, 110.7313)):
            Rectangle(SKETCH4_W_2, SKETCH4_H_2)
        with Locations((62.1637, 102.479993419)):
            Rectangle(SKETCH4_W, SKETCH4_H)
        with Locations((49.4256, 88.3031)):
            Rectangle(SKETCH4_W_2, SKETCH4_H_2)
        with Locations((87.4875, 102.6668)):
            Rectangle(SKETCH4_W, SKETCH4_H)
        with Locations((100.2256, 110.7313)):
            Rectangle(SKETCH4_W_2, SKETCH4_H_2)
        with Locations((112.9637, 102.479993419)):
            Rectangle(SKETCH4_W, SKETCH4_H)
        with Locations((100.2256, 88.3031)):
            Rectangle(SKETCH4_W_2, SKETCH4_H_2)
        with Locations((-52.1744, -88.3031)):
            Rectangle(SKETCH4_W_2, SKETCH4_H_2)
        with Locations((-39.4363, -102.479993419)):
            Rectangle(SKETCH4_W, SKETCH4_H)
        with Locations((-52.1744, -110.7313)):
            Rectangle(SKETCH4_W_2, SKETCH4_H_2)
        with Locations((-64.9125, -102.6668)):
            Rectangle(SKETCH4_W, SKETCH4_H)
        with Locations((-1.3744, -88.3031)):
            Rectangle(SKETCH4_W_2, SKETCH4_H_2)
        with Locations((11.3637, -102.479993419)):
            Rectangle(SKETCH4_W, SKETCH4_H)
        with Locations((-1.3744, -110.7313)):
            Rectangle(SKETCH4_W_2, SKETCH4_H_2)
        with Locations((-14.1125, -102.6668)):
            Rectangle(SKETCH4_W, SKETCH4_H)
        with Locations((49.4256, -88.3031)):
            Rectangle(SKETCH4_W_2, SKETCH4_H_2)
        with Locations((62.1637, -102.479993419)):
            Rectangle(SKETCH4_W, SKETCH4_H)
        with Locations((49.4256, -110.7313)):
            Rectangle(SKETCH4_W_2, SKETCH4_H_2)
        with Locations((36.6875, -102.6668)):
            Rectangle(SKETCH4_W, SKETCH4_H)
        with Locations((112.9637, -102.479993419)):
            Rectangle(SKETCH4_W, SKETCH4_H)
        with Locations((100.2256, -88.3031)):
            Rectangle(SKETCH4_W_2, SKETCH4_H_2)
        with Locations((100.2256, -110.7313)):
            Rectangle(SKETCH4_W_2, SKETCH4_H_2)
        with Locations((87.4875, -102.6668)):
            Rectangle(SKETCH4_W, SKETCH4_H)
        with Locations((-102.9744, -88.3031)):
            Rectangle(SKETCH4_W_2, SKETCH4_H_2)
        with Locations((-90.2363, -102.479993419)):
            Rectangle(SKETCH4_W, SKETCH4_H)
        with Locations((-102.9744, -110.7313)):
            Rectangle(SKETCH4_W_2, SKETCH4_H_2)
        with Locations((-115.7125, -102.6668)):
            Rectangle(SKETCH4_W, SKETCH4_H)
    extrude(amount=-CUT_EXTRUDE1_DEPTH, mode=Mode.SUBTRACT)


solid = part.part
